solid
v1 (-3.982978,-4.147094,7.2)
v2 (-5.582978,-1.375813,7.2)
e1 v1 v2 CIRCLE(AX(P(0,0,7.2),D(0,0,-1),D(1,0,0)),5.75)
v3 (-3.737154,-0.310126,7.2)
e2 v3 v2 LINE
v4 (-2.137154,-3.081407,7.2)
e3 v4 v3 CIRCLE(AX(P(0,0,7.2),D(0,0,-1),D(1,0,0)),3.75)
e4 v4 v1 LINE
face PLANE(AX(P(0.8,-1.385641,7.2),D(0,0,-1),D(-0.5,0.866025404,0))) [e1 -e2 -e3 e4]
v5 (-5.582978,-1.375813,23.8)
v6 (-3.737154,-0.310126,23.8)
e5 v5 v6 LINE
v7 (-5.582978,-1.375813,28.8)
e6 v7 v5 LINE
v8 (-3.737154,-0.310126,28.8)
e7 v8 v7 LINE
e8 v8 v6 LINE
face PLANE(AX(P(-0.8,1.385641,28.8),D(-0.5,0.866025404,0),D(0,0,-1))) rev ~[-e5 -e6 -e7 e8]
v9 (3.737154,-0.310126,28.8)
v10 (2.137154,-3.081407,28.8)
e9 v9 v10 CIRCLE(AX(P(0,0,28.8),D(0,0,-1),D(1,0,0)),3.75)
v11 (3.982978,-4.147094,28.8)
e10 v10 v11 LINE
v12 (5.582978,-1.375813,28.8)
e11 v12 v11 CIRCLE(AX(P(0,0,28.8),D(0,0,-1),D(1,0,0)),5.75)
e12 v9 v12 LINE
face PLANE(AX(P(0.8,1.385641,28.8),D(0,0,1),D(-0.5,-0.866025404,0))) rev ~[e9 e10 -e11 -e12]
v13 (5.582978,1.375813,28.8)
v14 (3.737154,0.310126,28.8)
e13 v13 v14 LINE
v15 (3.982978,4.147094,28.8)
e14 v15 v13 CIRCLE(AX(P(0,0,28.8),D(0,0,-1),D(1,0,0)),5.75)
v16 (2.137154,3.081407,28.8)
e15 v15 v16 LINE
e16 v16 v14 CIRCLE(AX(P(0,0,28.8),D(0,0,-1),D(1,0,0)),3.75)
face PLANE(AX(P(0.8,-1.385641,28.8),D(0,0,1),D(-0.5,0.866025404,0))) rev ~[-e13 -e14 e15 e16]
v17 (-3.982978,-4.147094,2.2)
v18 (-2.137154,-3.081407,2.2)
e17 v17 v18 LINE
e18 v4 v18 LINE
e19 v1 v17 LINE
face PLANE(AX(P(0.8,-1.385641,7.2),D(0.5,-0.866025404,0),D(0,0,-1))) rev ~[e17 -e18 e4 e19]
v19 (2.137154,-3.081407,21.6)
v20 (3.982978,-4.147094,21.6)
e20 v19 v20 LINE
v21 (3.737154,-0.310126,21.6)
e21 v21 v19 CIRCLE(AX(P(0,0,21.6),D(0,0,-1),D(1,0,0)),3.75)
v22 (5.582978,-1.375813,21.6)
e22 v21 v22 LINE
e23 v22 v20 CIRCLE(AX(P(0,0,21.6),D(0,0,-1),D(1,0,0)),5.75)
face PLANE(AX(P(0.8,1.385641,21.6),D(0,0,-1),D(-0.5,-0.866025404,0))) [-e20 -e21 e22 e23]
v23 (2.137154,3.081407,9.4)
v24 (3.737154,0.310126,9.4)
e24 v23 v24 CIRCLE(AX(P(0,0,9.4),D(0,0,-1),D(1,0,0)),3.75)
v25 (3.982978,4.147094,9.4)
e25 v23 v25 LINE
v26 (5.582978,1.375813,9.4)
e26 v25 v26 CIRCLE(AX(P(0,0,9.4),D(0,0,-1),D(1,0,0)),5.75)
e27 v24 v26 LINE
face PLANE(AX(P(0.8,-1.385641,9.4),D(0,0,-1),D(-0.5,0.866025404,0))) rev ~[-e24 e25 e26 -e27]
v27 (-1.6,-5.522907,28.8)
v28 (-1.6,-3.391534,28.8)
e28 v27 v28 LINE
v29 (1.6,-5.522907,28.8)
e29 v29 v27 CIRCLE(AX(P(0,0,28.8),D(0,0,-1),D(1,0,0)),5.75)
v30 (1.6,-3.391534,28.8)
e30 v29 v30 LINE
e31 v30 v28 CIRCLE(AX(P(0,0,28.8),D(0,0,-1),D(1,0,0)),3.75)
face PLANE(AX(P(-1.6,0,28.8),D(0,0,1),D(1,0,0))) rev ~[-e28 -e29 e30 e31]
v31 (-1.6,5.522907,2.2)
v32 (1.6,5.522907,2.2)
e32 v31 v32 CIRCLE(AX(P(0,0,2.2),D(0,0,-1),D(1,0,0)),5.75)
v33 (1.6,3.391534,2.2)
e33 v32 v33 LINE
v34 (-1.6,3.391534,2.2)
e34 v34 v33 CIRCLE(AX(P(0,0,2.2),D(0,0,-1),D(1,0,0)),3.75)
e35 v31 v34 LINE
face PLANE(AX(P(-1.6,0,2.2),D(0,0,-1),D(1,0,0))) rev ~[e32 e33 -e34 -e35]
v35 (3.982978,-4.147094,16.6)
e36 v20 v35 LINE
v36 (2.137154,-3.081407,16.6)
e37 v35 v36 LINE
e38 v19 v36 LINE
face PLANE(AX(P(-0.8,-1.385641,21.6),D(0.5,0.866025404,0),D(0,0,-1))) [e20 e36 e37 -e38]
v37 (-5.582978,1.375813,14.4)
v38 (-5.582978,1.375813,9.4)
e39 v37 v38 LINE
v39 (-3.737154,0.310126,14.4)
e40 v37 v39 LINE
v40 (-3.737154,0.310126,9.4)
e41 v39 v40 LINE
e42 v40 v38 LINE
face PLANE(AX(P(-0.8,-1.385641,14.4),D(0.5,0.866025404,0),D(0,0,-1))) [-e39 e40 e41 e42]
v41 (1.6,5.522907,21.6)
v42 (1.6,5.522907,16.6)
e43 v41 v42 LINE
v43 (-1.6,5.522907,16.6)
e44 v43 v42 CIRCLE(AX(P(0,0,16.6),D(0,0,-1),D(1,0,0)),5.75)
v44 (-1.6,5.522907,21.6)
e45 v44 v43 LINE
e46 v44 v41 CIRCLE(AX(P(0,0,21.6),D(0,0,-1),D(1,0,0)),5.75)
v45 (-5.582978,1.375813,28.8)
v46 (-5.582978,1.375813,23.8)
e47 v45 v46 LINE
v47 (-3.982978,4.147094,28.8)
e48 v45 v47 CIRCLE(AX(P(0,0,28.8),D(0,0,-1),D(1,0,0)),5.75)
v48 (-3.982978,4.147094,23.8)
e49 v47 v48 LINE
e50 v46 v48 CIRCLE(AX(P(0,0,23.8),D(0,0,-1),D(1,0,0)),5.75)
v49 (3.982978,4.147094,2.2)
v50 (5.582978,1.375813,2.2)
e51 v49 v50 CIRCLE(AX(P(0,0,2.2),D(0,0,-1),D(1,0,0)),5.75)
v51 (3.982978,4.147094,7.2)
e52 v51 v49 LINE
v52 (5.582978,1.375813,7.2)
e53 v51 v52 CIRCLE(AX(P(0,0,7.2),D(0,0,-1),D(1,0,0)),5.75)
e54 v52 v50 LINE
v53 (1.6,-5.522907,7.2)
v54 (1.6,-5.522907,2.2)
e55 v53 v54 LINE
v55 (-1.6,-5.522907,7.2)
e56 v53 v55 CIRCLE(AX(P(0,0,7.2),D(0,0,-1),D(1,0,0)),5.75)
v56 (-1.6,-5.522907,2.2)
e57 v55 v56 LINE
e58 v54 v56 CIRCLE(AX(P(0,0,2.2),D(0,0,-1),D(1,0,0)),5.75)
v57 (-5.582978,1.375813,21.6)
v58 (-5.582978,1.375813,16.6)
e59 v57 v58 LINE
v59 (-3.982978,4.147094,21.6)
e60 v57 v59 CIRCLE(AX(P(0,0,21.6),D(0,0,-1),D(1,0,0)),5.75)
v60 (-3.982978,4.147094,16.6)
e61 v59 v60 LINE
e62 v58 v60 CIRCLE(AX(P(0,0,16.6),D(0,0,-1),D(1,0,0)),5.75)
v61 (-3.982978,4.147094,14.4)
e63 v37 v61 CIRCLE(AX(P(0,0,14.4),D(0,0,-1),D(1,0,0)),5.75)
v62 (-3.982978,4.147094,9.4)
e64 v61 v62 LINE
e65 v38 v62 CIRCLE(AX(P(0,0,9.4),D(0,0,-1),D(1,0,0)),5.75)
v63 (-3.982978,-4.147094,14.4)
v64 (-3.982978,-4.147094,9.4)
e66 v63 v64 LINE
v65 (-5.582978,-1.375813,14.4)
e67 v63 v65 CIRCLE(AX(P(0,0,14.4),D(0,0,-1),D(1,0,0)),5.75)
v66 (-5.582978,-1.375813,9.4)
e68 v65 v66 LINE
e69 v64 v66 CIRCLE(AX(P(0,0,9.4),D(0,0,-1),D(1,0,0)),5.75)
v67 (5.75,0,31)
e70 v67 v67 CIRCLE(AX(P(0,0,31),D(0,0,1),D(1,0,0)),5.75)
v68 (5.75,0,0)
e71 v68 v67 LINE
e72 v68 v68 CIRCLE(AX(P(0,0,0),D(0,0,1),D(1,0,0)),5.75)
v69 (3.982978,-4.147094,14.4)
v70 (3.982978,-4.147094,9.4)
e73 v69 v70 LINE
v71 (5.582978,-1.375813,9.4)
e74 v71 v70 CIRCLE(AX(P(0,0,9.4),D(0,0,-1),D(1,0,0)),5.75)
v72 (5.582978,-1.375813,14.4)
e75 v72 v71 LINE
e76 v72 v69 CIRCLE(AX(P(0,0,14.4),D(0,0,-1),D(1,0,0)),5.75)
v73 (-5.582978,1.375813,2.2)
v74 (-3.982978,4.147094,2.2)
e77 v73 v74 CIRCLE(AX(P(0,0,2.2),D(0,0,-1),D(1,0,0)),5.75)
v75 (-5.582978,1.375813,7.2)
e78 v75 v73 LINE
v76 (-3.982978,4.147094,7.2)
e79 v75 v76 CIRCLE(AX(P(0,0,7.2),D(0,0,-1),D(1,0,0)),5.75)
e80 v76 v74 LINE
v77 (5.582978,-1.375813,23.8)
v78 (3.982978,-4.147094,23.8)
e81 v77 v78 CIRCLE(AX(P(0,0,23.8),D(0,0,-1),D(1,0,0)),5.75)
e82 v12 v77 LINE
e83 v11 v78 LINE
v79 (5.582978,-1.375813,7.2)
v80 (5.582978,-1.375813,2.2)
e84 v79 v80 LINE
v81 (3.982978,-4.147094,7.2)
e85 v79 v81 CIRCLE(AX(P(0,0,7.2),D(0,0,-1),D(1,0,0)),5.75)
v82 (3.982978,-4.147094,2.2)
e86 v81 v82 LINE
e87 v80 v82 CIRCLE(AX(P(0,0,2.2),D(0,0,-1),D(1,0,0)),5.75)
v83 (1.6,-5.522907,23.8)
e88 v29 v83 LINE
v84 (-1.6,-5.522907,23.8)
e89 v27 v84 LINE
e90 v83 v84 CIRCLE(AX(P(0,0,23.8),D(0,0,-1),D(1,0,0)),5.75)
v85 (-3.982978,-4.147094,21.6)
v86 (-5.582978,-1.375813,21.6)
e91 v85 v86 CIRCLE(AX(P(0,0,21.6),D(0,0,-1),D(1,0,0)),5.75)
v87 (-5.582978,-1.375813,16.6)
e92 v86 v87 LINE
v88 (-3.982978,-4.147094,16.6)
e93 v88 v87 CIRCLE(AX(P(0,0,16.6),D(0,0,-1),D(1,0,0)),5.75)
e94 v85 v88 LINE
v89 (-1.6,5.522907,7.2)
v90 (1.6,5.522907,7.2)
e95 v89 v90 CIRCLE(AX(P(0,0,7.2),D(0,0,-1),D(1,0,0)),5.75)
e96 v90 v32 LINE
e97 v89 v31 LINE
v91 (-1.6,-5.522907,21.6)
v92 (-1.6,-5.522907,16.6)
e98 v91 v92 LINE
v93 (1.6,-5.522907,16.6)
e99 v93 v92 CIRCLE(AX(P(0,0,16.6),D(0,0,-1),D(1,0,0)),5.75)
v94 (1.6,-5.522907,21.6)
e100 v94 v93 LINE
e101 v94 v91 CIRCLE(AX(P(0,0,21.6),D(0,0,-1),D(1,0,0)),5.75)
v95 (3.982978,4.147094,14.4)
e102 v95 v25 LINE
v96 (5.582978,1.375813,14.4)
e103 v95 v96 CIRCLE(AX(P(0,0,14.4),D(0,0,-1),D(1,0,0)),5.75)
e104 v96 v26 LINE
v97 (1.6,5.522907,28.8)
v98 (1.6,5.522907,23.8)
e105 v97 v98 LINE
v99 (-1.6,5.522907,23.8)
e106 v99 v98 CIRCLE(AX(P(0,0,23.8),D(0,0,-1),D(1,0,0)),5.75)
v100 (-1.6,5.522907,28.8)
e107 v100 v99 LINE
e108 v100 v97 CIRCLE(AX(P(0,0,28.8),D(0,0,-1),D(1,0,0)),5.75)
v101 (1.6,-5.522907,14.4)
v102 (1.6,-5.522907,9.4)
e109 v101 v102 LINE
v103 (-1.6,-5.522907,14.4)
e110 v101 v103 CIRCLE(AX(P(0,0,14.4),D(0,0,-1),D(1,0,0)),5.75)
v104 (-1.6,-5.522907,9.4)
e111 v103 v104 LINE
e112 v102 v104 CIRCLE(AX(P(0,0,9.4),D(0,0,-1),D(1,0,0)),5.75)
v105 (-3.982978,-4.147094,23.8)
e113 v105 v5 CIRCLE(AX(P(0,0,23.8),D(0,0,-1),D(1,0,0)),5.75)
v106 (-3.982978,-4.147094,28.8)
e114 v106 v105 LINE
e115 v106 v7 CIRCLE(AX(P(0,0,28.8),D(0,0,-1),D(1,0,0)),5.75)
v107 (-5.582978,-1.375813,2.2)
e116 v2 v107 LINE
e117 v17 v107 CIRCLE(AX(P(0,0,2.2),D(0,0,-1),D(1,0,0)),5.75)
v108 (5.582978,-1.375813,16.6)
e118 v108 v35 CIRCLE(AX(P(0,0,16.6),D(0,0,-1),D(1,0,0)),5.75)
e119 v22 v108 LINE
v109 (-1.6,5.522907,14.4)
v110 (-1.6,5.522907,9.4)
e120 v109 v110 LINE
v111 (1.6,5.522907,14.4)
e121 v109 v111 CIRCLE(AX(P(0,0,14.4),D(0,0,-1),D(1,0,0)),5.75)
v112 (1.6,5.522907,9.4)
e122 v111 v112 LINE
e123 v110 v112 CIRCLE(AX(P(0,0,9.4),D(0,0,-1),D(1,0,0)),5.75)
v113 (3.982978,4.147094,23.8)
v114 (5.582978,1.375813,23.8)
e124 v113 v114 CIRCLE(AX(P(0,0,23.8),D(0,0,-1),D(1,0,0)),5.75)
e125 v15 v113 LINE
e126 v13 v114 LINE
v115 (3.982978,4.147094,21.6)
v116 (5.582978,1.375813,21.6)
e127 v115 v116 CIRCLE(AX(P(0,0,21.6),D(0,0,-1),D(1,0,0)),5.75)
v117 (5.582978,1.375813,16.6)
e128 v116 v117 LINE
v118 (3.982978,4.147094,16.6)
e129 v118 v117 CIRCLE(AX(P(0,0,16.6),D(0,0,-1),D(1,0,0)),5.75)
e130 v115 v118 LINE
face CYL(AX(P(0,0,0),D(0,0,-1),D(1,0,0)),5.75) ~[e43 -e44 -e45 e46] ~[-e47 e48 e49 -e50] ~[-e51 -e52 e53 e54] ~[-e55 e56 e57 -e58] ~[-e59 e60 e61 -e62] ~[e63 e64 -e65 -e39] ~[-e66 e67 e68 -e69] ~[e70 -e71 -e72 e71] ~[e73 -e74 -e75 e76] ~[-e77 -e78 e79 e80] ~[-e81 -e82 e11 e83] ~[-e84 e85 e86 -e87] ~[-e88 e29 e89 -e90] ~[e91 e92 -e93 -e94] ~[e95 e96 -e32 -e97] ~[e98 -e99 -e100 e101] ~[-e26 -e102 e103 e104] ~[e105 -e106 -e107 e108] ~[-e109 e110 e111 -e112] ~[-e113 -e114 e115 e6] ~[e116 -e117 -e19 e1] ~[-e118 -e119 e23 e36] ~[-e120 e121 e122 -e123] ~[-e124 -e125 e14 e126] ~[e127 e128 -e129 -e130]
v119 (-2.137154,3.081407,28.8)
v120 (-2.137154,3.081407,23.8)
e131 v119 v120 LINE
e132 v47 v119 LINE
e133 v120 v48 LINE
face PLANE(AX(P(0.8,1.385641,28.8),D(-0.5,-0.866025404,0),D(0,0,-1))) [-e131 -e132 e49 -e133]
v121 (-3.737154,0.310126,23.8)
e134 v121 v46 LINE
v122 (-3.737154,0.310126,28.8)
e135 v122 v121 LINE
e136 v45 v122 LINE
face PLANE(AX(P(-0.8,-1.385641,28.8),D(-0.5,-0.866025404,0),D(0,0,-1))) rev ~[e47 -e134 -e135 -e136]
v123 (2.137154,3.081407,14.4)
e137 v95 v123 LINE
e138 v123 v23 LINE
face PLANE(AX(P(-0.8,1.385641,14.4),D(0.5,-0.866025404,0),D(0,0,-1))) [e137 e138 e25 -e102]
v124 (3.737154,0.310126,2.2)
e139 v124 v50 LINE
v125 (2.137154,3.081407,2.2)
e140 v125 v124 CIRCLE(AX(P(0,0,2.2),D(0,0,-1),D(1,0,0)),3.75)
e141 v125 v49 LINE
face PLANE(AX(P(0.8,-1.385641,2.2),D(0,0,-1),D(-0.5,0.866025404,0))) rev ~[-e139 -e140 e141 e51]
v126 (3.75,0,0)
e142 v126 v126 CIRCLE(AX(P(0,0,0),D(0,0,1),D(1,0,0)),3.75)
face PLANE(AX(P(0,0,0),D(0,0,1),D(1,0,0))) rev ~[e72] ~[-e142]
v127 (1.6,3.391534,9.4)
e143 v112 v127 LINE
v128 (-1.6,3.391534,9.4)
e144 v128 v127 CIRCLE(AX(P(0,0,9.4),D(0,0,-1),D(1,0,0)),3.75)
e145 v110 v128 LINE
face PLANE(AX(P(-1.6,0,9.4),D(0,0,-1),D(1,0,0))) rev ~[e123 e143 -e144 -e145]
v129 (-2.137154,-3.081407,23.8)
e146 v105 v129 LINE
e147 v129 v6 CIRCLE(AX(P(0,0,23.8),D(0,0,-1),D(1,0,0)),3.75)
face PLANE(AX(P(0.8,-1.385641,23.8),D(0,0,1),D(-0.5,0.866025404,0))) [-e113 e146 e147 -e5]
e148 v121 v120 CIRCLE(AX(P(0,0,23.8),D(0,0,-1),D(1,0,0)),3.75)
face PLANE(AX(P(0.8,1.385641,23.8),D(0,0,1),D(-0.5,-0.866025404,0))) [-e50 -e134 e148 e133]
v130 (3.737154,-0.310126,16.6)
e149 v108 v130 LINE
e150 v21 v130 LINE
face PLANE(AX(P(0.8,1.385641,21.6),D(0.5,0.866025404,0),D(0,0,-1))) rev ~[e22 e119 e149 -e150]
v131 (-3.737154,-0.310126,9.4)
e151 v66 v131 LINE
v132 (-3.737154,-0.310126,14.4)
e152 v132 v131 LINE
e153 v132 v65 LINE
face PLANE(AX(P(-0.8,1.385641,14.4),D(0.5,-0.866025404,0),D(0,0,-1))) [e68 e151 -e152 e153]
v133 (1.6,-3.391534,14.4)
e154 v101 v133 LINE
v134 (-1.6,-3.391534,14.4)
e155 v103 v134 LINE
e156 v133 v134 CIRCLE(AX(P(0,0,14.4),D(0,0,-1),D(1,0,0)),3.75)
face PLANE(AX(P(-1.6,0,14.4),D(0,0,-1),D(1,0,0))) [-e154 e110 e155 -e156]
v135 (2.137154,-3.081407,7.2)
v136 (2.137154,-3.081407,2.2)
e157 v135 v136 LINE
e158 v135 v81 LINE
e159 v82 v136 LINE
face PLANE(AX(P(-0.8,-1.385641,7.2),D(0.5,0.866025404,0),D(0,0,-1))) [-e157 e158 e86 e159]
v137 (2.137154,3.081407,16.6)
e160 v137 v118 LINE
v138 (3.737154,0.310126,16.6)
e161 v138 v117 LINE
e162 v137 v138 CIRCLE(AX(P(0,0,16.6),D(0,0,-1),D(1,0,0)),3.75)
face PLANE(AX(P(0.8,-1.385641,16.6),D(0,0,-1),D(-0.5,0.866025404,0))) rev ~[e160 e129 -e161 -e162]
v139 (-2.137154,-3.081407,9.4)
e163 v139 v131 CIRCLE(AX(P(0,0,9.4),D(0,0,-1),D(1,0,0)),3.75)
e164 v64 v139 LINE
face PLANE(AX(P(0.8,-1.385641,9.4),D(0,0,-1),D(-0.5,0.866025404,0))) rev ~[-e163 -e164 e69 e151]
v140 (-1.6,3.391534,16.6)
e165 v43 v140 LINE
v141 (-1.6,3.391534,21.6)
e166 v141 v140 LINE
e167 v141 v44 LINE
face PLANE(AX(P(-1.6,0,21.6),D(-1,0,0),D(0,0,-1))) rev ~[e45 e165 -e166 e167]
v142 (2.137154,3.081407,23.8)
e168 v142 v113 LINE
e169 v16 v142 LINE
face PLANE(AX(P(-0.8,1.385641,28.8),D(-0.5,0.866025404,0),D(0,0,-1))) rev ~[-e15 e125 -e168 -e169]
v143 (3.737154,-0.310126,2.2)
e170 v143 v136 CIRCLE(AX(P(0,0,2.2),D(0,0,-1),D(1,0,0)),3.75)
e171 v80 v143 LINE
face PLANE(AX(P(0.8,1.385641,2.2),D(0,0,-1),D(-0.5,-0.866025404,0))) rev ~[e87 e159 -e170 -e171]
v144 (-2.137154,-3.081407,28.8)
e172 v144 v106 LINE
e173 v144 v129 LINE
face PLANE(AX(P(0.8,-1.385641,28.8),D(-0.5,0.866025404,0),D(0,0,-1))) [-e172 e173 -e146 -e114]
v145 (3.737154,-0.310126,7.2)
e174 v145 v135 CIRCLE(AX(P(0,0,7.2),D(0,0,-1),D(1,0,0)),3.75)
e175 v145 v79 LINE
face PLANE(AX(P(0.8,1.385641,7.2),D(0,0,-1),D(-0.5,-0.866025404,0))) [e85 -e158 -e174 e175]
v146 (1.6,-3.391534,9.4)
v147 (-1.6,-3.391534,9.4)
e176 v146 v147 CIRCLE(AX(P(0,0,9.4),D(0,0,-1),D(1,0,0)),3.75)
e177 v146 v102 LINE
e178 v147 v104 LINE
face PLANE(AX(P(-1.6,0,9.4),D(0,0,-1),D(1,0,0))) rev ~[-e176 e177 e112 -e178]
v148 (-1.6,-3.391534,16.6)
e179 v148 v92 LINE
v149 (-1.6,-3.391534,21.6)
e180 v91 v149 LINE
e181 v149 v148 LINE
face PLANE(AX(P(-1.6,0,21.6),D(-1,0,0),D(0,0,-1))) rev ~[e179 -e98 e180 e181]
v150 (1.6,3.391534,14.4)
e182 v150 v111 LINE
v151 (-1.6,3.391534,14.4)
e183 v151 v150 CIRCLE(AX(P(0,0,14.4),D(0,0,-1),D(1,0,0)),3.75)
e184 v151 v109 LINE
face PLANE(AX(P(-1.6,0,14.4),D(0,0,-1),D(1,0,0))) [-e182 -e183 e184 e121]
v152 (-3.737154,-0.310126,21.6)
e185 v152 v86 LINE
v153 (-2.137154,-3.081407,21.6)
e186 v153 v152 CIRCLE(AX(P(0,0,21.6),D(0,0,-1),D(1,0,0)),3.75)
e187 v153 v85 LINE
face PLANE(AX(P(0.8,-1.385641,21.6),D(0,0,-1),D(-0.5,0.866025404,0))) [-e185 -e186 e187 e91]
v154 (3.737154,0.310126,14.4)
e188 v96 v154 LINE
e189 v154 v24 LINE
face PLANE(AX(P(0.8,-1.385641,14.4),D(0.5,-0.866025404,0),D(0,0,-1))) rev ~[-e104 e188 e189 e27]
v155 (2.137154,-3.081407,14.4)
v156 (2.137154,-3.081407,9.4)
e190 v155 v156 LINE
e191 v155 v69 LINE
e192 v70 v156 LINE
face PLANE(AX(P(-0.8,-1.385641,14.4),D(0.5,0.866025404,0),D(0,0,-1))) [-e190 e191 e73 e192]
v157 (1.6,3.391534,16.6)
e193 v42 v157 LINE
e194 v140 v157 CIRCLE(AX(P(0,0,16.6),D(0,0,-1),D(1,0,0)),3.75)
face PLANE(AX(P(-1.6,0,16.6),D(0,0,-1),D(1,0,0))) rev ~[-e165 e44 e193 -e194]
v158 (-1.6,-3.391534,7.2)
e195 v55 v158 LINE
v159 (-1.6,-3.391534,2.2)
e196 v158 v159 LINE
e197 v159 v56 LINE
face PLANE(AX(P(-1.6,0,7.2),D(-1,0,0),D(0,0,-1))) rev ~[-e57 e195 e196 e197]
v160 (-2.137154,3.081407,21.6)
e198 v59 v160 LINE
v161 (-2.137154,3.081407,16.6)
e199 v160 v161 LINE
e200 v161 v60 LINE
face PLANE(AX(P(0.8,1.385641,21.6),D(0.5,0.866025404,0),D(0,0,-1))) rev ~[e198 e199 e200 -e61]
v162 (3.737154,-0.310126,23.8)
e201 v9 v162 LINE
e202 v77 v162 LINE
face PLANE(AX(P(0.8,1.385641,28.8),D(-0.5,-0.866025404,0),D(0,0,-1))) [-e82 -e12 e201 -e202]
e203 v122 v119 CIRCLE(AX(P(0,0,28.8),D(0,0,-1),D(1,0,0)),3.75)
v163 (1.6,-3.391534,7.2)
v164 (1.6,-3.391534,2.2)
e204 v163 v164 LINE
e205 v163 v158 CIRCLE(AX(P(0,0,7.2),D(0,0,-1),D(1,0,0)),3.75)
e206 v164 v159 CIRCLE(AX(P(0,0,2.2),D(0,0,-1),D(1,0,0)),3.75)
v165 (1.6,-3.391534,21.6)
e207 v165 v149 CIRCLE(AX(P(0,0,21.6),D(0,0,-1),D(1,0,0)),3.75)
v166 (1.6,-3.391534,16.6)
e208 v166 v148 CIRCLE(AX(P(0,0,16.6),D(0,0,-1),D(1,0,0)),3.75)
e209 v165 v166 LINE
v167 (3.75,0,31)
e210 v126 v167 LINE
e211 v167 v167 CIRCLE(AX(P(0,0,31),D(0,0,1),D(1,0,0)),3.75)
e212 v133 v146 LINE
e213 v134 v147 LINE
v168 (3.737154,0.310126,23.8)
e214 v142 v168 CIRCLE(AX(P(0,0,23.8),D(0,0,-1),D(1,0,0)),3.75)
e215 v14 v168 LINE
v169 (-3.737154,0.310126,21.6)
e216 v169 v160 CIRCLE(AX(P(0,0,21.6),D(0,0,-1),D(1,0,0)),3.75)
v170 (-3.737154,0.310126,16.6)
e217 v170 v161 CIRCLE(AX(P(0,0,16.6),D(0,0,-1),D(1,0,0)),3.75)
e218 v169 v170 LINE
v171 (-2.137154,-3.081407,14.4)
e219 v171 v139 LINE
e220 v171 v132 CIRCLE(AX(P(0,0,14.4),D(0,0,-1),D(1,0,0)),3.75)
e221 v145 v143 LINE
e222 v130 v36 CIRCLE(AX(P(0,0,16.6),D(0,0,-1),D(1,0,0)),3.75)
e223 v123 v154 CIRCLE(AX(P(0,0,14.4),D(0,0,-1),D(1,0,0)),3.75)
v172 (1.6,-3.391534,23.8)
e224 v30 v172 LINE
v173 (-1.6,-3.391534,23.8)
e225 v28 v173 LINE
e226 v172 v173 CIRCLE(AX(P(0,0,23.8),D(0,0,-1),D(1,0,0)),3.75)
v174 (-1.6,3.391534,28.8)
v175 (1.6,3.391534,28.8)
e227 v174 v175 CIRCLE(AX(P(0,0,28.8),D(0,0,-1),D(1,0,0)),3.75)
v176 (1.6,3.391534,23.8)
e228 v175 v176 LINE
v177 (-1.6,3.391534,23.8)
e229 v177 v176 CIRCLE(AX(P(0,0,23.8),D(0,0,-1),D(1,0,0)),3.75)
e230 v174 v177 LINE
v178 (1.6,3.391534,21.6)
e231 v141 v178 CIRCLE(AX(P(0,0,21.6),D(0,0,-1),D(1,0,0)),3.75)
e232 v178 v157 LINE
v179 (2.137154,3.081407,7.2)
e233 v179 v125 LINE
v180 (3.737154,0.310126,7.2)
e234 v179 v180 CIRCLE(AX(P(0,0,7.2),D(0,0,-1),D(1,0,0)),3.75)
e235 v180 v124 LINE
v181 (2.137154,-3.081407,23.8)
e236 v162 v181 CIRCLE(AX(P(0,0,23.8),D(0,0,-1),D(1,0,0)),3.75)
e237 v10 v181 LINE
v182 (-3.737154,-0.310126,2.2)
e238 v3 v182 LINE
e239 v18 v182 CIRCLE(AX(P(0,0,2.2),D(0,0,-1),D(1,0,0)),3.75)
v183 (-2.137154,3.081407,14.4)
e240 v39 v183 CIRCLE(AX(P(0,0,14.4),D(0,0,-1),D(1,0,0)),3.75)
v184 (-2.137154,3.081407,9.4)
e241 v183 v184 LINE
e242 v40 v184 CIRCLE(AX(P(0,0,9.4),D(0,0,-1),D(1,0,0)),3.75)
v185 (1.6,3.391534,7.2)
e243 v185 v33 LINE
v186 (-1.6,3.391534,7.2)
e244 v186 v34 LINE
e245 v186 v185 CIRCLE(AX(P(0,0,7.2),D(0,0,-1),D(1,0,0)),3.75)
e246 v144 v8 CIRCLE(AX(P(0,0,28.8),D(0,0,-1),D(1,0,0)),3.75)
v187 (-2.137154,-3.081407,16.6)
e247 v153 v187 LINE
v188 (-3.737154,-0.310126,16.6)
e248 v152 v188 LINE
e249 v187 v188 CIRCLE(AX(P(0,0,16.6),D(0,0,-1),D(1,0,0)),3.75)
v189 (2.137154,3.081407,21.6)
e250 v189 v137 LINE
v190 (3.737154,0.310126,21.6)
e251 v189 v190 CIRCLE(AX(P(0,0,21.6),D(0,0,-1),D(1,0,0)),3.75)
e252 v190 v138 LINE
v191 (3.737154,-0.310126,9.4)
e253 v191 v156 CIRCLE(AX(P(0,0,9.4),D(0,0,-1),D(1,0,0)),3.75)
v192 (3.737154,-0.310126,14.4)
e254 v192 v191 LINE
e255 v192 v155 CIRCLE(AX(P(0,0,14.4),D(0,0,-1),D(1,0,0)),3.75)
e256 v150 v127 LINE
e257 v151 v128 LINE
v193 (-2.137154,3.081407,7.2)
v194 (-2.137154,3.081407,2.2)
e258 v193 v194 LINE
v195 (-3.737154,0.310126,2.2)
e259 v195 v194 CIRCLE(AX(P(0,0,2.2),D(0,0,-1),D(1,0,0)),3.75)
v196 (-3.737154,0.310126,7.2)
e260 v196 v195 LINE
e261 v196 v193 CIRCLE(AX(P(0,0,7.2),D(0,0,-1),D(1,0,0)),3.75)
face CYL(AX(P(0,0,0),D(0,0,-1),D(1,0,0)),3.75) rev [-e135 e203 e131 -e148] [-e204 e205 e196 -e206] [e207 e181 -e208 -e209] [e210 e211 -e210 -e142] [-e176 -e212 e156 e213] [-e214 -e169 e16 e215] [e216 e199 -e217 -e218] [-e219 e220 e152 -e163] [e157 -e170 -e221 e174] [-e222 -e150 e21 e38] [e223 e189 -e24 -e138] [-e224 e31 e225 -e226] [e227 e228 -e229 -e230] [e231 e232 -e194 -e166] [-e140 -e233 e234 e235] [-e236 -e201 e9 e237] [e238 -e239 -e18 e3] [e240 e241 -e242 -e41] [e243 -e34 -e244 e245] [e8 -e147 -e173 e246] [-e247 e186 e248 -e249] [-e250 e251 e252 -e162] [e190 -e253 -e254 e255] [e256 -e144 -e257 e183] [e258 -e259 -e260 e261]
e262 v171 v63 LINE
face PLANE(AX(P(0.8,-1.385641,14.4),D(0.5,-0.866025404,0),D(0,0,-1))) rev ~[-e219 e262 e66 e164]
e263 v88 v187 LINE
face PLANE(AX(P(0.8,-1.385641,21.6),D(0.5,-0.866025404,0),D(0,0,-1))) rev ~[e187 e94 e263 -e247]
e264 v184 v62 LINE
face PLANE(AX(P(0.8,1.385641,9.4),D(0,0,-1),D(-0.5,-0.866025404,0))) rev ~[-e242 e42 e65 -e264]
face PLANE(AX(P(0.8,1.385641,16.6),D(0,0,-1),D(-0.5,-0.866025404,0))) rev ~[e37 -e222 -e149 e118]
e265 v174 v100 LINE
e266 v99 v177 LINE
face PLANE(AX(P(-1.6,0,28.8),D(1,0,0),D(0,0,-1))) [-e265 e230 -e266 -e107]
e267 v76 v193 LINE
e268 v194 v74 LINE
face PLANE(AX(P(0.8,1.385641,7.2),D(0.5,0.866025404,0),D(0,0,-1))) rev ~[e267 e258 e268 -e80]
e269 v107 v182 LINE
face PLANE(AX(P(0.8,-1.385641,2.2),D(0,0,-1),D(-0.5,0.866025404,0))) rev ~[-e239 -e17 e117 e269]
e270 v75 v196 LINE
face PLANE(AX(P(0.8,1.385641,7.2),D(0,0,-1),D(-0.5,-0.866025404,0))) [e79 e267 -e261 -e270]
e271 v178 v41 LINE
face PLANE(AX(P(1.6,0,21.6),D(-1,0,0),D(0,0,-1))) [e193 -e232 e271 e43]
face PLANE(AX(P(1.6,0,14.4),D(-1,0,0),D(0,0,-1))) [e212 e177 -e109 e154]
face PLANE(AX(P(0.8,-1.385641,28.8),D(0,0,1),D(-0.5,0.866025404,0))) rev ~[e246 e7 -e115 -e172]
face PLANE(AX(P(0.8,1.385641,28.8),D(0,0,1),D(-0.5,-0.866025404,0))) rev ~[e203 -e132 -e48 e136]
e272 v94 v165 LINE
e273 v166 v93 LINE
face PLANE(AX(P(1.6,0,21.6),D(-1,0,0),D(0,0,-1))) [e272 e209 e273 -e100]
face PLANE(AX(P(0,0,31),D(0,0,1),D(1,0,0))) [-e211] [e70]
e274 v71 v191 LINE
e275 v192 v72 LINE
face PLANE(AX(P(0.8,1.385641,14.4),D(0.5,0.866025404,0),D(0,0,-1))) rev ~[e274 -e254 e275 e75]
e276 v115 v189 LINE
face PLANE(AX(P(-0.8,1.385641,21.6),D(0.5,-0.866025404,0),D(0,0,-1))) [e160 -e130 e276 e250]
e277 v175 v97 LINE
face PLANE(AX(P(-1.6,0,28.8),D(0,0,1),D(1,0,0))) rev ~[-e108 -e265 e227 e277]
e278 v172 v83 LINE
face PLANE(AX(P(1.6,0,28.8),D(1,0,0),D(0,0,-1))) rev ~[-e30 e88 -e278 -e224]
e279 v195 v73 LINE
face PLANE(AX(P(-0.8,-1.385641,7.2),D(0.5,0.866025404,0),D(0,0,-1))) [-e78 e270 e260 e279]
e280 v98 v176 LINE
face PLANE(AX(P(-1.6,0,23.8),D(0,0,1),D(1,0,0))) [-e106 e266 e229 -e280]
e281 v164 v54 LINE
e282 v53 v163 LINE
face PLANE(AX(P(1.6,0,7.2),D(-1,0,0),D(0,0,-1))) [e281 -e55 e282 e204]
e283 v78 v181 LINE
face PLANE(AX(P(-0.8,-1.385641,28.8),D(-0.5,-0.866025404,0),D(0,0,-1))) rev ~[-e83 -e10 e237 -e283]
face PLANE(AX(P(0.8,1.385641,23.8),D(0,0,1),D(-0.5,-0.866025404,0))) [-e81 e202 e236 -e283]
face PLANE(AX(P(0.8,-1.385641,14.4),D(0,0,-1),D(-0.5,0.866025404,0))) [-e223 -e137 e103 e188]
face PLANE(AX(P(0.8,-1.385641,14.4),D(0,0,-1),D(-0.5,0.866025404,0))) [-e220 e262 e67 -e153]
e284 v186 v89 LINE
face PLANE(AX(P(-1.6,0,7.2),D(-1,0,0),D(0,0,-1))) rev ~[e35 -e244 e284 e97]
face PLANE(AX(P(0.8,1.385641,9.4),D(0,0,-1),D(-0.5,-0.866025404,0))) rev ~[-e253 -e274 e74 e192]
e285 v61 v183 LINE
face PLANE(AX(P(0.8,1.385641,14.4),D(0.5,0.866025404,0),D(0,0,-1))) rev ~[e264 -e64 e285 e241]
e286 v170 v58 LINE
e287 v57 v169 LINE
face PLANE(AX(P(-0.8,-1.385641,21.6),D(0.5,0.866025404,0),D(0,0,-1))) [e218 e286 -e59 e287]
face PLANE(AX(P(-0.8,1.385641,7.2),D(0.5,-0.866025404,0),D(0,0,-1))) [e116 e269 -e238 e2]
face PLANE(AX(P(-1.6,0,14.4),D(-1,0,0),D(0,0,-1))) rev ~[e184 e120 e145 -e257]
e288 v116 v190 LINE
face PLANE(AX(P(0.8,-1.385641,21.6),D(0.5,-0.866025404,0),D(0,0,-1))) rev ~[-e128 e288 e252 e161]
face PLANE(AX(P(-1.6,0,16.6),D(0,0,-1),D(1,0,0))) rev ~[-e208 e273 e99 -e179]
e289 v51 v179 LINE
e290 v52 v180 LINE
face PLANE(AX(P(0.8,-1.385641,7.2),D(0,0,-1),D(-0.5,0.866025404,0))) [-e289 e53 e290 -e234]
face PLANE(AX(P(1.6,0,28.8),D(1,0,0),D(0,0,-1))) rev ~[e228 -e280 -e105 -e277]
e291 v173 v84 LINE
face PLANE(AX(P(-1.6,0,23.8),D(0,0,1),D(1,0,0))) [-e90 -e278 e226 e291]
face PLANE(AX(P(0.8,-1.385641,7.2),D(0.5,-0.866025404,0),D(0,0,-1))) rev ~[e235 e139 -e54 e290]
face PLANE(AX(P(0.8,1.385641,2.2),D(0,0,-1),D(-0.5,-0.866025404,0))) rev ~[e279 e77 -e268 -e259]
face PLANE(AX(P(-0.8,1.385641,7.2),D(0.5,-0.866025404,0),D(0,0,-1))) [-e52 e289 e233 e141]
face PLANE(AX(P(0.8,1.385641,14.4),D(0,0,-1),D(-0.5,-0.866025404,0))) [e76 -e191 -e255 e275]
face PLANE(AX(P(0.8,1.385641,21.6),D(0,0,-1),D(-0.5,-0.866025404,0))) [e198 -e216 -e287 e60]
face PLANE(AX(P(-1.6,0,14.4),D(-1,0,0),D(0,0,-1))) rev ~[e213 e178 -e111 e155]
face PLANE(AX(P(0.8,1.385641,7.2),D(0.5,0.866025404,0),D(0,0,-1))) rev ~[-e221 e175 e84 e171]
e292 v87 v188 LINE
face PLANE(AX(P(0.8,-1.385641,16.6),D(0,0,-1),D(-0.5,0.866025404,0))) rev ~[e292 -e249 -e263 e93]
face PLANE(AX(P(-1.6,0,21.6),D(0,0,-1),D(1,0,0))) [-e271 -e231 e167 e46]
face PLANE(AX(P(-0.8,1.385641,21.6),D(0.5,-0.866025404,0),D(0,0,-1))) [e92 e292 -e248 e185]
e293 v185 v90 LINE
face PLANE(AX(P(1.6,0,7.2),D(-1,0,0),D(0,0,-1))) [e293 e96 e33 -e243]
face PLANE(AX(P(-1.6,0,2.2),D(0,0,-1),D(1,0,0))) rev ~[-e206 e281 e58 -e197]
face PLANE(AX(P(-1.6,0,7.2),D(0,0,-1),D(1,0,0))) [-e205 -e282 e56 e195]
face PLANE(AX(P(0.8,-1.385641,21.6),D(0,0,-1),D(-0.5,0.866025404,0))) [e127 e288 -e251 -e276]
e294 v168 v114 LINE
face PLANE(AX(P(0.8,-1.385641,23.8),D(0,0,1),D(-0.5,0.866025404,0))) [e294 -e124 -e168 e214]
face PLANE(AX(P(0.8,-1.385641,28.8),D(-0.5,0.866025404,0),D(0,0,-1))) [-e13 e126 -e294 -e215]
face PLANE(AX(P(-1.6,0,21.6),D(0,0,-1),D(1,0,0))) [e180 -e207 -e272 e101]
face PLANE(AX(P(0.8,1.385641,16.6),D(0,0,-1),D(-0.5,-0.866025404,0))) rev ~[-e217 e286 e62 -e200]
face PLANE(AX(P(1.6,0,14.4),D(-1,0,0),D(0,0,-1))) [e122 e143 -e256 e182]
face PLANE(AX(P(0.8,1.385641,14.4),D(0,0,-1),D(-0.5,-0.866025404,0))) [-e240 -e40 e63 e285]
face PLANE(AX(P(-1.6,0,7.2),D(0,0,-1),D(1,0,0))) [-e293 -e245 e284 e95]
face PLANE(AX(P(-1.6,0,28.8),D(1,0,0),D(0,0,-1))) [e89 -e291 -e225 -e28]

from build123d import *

# Parameters (mm, degrees)
SKETCH_1_R               = 5.75
SKETCH_1_R_2             = 4.75
SKETCH_1_R_3             = 3.75
EXTRUDE_1_DEPTH          = 31
SKETCH_2_W               = 3.2
SKETCH_2_H               = 5
CUT_EXTRUDE_1_DEPTH      = 33.048790929
PATTERN_CIRCULAR_1_COUNT = 3


with BuildPart() as part:
    # 草图1 → 凸台-拉伸1 (new body)
    # profile 1 of 2: a face of its own
    with BuildSketch(Plane.XY):
        Circle(SKETCH_1_R)
        Circle(SKETCH_1_R_2, mode=Mode.SUBTRACT)
    # profile 2 of 2: a face of its own
    with BuildSketch(Plane.XY):
        Circle(SKETCH_1_R_2)
        Circle(SKETCH_1_R_3, mode=Mode.SUBTRACT)
    extrude(amount=EXTRUDE_1_DEPTH)

    # 草图2 → 切除-拉伸1 (cut, symmetric)
    with BuildSketch(Plane(origin=(0, 0, 0), x_dir=(1, 0, 0), z_dir=(0, 1, 0))):
        with Locations((0, -4.7)):
            Rectangle(SKETCH_2_W, SKETCH_2_H)
        with Locations((0, -11.9)):
            Rectangle(SKETCH_2_W, SKETCH_2_H)
        with Locations((0, -19.1)):
            Rectangle(SKETCH_2_W, SKETCH_2_H)
        with Locations((0, -26.3)):
            Rectangle(SKETCH_2_W, SKETCH_2_H)
    cut_extrude_1 = extrude(amount=CUT_EXTRUDE_1_DEPTH, both=True, mode=Mode.SUBTRACT)

    # 阵列(圆周)1: 切除-拉伸1 ×3 about axis
    pattern_circular_1_axis = Axis((0, 0, 0), (0, 0, 1))
    for i in range(1, PATTERN_CIRCULAR_1_COUNT):
        add(cut_extrude_1.rotate(pattern_circular_1_axis, i * 360 / PATTERN_CIRCULAR_1_COUNT), mode=Mode.SUBTRACT)


solid = part.part
